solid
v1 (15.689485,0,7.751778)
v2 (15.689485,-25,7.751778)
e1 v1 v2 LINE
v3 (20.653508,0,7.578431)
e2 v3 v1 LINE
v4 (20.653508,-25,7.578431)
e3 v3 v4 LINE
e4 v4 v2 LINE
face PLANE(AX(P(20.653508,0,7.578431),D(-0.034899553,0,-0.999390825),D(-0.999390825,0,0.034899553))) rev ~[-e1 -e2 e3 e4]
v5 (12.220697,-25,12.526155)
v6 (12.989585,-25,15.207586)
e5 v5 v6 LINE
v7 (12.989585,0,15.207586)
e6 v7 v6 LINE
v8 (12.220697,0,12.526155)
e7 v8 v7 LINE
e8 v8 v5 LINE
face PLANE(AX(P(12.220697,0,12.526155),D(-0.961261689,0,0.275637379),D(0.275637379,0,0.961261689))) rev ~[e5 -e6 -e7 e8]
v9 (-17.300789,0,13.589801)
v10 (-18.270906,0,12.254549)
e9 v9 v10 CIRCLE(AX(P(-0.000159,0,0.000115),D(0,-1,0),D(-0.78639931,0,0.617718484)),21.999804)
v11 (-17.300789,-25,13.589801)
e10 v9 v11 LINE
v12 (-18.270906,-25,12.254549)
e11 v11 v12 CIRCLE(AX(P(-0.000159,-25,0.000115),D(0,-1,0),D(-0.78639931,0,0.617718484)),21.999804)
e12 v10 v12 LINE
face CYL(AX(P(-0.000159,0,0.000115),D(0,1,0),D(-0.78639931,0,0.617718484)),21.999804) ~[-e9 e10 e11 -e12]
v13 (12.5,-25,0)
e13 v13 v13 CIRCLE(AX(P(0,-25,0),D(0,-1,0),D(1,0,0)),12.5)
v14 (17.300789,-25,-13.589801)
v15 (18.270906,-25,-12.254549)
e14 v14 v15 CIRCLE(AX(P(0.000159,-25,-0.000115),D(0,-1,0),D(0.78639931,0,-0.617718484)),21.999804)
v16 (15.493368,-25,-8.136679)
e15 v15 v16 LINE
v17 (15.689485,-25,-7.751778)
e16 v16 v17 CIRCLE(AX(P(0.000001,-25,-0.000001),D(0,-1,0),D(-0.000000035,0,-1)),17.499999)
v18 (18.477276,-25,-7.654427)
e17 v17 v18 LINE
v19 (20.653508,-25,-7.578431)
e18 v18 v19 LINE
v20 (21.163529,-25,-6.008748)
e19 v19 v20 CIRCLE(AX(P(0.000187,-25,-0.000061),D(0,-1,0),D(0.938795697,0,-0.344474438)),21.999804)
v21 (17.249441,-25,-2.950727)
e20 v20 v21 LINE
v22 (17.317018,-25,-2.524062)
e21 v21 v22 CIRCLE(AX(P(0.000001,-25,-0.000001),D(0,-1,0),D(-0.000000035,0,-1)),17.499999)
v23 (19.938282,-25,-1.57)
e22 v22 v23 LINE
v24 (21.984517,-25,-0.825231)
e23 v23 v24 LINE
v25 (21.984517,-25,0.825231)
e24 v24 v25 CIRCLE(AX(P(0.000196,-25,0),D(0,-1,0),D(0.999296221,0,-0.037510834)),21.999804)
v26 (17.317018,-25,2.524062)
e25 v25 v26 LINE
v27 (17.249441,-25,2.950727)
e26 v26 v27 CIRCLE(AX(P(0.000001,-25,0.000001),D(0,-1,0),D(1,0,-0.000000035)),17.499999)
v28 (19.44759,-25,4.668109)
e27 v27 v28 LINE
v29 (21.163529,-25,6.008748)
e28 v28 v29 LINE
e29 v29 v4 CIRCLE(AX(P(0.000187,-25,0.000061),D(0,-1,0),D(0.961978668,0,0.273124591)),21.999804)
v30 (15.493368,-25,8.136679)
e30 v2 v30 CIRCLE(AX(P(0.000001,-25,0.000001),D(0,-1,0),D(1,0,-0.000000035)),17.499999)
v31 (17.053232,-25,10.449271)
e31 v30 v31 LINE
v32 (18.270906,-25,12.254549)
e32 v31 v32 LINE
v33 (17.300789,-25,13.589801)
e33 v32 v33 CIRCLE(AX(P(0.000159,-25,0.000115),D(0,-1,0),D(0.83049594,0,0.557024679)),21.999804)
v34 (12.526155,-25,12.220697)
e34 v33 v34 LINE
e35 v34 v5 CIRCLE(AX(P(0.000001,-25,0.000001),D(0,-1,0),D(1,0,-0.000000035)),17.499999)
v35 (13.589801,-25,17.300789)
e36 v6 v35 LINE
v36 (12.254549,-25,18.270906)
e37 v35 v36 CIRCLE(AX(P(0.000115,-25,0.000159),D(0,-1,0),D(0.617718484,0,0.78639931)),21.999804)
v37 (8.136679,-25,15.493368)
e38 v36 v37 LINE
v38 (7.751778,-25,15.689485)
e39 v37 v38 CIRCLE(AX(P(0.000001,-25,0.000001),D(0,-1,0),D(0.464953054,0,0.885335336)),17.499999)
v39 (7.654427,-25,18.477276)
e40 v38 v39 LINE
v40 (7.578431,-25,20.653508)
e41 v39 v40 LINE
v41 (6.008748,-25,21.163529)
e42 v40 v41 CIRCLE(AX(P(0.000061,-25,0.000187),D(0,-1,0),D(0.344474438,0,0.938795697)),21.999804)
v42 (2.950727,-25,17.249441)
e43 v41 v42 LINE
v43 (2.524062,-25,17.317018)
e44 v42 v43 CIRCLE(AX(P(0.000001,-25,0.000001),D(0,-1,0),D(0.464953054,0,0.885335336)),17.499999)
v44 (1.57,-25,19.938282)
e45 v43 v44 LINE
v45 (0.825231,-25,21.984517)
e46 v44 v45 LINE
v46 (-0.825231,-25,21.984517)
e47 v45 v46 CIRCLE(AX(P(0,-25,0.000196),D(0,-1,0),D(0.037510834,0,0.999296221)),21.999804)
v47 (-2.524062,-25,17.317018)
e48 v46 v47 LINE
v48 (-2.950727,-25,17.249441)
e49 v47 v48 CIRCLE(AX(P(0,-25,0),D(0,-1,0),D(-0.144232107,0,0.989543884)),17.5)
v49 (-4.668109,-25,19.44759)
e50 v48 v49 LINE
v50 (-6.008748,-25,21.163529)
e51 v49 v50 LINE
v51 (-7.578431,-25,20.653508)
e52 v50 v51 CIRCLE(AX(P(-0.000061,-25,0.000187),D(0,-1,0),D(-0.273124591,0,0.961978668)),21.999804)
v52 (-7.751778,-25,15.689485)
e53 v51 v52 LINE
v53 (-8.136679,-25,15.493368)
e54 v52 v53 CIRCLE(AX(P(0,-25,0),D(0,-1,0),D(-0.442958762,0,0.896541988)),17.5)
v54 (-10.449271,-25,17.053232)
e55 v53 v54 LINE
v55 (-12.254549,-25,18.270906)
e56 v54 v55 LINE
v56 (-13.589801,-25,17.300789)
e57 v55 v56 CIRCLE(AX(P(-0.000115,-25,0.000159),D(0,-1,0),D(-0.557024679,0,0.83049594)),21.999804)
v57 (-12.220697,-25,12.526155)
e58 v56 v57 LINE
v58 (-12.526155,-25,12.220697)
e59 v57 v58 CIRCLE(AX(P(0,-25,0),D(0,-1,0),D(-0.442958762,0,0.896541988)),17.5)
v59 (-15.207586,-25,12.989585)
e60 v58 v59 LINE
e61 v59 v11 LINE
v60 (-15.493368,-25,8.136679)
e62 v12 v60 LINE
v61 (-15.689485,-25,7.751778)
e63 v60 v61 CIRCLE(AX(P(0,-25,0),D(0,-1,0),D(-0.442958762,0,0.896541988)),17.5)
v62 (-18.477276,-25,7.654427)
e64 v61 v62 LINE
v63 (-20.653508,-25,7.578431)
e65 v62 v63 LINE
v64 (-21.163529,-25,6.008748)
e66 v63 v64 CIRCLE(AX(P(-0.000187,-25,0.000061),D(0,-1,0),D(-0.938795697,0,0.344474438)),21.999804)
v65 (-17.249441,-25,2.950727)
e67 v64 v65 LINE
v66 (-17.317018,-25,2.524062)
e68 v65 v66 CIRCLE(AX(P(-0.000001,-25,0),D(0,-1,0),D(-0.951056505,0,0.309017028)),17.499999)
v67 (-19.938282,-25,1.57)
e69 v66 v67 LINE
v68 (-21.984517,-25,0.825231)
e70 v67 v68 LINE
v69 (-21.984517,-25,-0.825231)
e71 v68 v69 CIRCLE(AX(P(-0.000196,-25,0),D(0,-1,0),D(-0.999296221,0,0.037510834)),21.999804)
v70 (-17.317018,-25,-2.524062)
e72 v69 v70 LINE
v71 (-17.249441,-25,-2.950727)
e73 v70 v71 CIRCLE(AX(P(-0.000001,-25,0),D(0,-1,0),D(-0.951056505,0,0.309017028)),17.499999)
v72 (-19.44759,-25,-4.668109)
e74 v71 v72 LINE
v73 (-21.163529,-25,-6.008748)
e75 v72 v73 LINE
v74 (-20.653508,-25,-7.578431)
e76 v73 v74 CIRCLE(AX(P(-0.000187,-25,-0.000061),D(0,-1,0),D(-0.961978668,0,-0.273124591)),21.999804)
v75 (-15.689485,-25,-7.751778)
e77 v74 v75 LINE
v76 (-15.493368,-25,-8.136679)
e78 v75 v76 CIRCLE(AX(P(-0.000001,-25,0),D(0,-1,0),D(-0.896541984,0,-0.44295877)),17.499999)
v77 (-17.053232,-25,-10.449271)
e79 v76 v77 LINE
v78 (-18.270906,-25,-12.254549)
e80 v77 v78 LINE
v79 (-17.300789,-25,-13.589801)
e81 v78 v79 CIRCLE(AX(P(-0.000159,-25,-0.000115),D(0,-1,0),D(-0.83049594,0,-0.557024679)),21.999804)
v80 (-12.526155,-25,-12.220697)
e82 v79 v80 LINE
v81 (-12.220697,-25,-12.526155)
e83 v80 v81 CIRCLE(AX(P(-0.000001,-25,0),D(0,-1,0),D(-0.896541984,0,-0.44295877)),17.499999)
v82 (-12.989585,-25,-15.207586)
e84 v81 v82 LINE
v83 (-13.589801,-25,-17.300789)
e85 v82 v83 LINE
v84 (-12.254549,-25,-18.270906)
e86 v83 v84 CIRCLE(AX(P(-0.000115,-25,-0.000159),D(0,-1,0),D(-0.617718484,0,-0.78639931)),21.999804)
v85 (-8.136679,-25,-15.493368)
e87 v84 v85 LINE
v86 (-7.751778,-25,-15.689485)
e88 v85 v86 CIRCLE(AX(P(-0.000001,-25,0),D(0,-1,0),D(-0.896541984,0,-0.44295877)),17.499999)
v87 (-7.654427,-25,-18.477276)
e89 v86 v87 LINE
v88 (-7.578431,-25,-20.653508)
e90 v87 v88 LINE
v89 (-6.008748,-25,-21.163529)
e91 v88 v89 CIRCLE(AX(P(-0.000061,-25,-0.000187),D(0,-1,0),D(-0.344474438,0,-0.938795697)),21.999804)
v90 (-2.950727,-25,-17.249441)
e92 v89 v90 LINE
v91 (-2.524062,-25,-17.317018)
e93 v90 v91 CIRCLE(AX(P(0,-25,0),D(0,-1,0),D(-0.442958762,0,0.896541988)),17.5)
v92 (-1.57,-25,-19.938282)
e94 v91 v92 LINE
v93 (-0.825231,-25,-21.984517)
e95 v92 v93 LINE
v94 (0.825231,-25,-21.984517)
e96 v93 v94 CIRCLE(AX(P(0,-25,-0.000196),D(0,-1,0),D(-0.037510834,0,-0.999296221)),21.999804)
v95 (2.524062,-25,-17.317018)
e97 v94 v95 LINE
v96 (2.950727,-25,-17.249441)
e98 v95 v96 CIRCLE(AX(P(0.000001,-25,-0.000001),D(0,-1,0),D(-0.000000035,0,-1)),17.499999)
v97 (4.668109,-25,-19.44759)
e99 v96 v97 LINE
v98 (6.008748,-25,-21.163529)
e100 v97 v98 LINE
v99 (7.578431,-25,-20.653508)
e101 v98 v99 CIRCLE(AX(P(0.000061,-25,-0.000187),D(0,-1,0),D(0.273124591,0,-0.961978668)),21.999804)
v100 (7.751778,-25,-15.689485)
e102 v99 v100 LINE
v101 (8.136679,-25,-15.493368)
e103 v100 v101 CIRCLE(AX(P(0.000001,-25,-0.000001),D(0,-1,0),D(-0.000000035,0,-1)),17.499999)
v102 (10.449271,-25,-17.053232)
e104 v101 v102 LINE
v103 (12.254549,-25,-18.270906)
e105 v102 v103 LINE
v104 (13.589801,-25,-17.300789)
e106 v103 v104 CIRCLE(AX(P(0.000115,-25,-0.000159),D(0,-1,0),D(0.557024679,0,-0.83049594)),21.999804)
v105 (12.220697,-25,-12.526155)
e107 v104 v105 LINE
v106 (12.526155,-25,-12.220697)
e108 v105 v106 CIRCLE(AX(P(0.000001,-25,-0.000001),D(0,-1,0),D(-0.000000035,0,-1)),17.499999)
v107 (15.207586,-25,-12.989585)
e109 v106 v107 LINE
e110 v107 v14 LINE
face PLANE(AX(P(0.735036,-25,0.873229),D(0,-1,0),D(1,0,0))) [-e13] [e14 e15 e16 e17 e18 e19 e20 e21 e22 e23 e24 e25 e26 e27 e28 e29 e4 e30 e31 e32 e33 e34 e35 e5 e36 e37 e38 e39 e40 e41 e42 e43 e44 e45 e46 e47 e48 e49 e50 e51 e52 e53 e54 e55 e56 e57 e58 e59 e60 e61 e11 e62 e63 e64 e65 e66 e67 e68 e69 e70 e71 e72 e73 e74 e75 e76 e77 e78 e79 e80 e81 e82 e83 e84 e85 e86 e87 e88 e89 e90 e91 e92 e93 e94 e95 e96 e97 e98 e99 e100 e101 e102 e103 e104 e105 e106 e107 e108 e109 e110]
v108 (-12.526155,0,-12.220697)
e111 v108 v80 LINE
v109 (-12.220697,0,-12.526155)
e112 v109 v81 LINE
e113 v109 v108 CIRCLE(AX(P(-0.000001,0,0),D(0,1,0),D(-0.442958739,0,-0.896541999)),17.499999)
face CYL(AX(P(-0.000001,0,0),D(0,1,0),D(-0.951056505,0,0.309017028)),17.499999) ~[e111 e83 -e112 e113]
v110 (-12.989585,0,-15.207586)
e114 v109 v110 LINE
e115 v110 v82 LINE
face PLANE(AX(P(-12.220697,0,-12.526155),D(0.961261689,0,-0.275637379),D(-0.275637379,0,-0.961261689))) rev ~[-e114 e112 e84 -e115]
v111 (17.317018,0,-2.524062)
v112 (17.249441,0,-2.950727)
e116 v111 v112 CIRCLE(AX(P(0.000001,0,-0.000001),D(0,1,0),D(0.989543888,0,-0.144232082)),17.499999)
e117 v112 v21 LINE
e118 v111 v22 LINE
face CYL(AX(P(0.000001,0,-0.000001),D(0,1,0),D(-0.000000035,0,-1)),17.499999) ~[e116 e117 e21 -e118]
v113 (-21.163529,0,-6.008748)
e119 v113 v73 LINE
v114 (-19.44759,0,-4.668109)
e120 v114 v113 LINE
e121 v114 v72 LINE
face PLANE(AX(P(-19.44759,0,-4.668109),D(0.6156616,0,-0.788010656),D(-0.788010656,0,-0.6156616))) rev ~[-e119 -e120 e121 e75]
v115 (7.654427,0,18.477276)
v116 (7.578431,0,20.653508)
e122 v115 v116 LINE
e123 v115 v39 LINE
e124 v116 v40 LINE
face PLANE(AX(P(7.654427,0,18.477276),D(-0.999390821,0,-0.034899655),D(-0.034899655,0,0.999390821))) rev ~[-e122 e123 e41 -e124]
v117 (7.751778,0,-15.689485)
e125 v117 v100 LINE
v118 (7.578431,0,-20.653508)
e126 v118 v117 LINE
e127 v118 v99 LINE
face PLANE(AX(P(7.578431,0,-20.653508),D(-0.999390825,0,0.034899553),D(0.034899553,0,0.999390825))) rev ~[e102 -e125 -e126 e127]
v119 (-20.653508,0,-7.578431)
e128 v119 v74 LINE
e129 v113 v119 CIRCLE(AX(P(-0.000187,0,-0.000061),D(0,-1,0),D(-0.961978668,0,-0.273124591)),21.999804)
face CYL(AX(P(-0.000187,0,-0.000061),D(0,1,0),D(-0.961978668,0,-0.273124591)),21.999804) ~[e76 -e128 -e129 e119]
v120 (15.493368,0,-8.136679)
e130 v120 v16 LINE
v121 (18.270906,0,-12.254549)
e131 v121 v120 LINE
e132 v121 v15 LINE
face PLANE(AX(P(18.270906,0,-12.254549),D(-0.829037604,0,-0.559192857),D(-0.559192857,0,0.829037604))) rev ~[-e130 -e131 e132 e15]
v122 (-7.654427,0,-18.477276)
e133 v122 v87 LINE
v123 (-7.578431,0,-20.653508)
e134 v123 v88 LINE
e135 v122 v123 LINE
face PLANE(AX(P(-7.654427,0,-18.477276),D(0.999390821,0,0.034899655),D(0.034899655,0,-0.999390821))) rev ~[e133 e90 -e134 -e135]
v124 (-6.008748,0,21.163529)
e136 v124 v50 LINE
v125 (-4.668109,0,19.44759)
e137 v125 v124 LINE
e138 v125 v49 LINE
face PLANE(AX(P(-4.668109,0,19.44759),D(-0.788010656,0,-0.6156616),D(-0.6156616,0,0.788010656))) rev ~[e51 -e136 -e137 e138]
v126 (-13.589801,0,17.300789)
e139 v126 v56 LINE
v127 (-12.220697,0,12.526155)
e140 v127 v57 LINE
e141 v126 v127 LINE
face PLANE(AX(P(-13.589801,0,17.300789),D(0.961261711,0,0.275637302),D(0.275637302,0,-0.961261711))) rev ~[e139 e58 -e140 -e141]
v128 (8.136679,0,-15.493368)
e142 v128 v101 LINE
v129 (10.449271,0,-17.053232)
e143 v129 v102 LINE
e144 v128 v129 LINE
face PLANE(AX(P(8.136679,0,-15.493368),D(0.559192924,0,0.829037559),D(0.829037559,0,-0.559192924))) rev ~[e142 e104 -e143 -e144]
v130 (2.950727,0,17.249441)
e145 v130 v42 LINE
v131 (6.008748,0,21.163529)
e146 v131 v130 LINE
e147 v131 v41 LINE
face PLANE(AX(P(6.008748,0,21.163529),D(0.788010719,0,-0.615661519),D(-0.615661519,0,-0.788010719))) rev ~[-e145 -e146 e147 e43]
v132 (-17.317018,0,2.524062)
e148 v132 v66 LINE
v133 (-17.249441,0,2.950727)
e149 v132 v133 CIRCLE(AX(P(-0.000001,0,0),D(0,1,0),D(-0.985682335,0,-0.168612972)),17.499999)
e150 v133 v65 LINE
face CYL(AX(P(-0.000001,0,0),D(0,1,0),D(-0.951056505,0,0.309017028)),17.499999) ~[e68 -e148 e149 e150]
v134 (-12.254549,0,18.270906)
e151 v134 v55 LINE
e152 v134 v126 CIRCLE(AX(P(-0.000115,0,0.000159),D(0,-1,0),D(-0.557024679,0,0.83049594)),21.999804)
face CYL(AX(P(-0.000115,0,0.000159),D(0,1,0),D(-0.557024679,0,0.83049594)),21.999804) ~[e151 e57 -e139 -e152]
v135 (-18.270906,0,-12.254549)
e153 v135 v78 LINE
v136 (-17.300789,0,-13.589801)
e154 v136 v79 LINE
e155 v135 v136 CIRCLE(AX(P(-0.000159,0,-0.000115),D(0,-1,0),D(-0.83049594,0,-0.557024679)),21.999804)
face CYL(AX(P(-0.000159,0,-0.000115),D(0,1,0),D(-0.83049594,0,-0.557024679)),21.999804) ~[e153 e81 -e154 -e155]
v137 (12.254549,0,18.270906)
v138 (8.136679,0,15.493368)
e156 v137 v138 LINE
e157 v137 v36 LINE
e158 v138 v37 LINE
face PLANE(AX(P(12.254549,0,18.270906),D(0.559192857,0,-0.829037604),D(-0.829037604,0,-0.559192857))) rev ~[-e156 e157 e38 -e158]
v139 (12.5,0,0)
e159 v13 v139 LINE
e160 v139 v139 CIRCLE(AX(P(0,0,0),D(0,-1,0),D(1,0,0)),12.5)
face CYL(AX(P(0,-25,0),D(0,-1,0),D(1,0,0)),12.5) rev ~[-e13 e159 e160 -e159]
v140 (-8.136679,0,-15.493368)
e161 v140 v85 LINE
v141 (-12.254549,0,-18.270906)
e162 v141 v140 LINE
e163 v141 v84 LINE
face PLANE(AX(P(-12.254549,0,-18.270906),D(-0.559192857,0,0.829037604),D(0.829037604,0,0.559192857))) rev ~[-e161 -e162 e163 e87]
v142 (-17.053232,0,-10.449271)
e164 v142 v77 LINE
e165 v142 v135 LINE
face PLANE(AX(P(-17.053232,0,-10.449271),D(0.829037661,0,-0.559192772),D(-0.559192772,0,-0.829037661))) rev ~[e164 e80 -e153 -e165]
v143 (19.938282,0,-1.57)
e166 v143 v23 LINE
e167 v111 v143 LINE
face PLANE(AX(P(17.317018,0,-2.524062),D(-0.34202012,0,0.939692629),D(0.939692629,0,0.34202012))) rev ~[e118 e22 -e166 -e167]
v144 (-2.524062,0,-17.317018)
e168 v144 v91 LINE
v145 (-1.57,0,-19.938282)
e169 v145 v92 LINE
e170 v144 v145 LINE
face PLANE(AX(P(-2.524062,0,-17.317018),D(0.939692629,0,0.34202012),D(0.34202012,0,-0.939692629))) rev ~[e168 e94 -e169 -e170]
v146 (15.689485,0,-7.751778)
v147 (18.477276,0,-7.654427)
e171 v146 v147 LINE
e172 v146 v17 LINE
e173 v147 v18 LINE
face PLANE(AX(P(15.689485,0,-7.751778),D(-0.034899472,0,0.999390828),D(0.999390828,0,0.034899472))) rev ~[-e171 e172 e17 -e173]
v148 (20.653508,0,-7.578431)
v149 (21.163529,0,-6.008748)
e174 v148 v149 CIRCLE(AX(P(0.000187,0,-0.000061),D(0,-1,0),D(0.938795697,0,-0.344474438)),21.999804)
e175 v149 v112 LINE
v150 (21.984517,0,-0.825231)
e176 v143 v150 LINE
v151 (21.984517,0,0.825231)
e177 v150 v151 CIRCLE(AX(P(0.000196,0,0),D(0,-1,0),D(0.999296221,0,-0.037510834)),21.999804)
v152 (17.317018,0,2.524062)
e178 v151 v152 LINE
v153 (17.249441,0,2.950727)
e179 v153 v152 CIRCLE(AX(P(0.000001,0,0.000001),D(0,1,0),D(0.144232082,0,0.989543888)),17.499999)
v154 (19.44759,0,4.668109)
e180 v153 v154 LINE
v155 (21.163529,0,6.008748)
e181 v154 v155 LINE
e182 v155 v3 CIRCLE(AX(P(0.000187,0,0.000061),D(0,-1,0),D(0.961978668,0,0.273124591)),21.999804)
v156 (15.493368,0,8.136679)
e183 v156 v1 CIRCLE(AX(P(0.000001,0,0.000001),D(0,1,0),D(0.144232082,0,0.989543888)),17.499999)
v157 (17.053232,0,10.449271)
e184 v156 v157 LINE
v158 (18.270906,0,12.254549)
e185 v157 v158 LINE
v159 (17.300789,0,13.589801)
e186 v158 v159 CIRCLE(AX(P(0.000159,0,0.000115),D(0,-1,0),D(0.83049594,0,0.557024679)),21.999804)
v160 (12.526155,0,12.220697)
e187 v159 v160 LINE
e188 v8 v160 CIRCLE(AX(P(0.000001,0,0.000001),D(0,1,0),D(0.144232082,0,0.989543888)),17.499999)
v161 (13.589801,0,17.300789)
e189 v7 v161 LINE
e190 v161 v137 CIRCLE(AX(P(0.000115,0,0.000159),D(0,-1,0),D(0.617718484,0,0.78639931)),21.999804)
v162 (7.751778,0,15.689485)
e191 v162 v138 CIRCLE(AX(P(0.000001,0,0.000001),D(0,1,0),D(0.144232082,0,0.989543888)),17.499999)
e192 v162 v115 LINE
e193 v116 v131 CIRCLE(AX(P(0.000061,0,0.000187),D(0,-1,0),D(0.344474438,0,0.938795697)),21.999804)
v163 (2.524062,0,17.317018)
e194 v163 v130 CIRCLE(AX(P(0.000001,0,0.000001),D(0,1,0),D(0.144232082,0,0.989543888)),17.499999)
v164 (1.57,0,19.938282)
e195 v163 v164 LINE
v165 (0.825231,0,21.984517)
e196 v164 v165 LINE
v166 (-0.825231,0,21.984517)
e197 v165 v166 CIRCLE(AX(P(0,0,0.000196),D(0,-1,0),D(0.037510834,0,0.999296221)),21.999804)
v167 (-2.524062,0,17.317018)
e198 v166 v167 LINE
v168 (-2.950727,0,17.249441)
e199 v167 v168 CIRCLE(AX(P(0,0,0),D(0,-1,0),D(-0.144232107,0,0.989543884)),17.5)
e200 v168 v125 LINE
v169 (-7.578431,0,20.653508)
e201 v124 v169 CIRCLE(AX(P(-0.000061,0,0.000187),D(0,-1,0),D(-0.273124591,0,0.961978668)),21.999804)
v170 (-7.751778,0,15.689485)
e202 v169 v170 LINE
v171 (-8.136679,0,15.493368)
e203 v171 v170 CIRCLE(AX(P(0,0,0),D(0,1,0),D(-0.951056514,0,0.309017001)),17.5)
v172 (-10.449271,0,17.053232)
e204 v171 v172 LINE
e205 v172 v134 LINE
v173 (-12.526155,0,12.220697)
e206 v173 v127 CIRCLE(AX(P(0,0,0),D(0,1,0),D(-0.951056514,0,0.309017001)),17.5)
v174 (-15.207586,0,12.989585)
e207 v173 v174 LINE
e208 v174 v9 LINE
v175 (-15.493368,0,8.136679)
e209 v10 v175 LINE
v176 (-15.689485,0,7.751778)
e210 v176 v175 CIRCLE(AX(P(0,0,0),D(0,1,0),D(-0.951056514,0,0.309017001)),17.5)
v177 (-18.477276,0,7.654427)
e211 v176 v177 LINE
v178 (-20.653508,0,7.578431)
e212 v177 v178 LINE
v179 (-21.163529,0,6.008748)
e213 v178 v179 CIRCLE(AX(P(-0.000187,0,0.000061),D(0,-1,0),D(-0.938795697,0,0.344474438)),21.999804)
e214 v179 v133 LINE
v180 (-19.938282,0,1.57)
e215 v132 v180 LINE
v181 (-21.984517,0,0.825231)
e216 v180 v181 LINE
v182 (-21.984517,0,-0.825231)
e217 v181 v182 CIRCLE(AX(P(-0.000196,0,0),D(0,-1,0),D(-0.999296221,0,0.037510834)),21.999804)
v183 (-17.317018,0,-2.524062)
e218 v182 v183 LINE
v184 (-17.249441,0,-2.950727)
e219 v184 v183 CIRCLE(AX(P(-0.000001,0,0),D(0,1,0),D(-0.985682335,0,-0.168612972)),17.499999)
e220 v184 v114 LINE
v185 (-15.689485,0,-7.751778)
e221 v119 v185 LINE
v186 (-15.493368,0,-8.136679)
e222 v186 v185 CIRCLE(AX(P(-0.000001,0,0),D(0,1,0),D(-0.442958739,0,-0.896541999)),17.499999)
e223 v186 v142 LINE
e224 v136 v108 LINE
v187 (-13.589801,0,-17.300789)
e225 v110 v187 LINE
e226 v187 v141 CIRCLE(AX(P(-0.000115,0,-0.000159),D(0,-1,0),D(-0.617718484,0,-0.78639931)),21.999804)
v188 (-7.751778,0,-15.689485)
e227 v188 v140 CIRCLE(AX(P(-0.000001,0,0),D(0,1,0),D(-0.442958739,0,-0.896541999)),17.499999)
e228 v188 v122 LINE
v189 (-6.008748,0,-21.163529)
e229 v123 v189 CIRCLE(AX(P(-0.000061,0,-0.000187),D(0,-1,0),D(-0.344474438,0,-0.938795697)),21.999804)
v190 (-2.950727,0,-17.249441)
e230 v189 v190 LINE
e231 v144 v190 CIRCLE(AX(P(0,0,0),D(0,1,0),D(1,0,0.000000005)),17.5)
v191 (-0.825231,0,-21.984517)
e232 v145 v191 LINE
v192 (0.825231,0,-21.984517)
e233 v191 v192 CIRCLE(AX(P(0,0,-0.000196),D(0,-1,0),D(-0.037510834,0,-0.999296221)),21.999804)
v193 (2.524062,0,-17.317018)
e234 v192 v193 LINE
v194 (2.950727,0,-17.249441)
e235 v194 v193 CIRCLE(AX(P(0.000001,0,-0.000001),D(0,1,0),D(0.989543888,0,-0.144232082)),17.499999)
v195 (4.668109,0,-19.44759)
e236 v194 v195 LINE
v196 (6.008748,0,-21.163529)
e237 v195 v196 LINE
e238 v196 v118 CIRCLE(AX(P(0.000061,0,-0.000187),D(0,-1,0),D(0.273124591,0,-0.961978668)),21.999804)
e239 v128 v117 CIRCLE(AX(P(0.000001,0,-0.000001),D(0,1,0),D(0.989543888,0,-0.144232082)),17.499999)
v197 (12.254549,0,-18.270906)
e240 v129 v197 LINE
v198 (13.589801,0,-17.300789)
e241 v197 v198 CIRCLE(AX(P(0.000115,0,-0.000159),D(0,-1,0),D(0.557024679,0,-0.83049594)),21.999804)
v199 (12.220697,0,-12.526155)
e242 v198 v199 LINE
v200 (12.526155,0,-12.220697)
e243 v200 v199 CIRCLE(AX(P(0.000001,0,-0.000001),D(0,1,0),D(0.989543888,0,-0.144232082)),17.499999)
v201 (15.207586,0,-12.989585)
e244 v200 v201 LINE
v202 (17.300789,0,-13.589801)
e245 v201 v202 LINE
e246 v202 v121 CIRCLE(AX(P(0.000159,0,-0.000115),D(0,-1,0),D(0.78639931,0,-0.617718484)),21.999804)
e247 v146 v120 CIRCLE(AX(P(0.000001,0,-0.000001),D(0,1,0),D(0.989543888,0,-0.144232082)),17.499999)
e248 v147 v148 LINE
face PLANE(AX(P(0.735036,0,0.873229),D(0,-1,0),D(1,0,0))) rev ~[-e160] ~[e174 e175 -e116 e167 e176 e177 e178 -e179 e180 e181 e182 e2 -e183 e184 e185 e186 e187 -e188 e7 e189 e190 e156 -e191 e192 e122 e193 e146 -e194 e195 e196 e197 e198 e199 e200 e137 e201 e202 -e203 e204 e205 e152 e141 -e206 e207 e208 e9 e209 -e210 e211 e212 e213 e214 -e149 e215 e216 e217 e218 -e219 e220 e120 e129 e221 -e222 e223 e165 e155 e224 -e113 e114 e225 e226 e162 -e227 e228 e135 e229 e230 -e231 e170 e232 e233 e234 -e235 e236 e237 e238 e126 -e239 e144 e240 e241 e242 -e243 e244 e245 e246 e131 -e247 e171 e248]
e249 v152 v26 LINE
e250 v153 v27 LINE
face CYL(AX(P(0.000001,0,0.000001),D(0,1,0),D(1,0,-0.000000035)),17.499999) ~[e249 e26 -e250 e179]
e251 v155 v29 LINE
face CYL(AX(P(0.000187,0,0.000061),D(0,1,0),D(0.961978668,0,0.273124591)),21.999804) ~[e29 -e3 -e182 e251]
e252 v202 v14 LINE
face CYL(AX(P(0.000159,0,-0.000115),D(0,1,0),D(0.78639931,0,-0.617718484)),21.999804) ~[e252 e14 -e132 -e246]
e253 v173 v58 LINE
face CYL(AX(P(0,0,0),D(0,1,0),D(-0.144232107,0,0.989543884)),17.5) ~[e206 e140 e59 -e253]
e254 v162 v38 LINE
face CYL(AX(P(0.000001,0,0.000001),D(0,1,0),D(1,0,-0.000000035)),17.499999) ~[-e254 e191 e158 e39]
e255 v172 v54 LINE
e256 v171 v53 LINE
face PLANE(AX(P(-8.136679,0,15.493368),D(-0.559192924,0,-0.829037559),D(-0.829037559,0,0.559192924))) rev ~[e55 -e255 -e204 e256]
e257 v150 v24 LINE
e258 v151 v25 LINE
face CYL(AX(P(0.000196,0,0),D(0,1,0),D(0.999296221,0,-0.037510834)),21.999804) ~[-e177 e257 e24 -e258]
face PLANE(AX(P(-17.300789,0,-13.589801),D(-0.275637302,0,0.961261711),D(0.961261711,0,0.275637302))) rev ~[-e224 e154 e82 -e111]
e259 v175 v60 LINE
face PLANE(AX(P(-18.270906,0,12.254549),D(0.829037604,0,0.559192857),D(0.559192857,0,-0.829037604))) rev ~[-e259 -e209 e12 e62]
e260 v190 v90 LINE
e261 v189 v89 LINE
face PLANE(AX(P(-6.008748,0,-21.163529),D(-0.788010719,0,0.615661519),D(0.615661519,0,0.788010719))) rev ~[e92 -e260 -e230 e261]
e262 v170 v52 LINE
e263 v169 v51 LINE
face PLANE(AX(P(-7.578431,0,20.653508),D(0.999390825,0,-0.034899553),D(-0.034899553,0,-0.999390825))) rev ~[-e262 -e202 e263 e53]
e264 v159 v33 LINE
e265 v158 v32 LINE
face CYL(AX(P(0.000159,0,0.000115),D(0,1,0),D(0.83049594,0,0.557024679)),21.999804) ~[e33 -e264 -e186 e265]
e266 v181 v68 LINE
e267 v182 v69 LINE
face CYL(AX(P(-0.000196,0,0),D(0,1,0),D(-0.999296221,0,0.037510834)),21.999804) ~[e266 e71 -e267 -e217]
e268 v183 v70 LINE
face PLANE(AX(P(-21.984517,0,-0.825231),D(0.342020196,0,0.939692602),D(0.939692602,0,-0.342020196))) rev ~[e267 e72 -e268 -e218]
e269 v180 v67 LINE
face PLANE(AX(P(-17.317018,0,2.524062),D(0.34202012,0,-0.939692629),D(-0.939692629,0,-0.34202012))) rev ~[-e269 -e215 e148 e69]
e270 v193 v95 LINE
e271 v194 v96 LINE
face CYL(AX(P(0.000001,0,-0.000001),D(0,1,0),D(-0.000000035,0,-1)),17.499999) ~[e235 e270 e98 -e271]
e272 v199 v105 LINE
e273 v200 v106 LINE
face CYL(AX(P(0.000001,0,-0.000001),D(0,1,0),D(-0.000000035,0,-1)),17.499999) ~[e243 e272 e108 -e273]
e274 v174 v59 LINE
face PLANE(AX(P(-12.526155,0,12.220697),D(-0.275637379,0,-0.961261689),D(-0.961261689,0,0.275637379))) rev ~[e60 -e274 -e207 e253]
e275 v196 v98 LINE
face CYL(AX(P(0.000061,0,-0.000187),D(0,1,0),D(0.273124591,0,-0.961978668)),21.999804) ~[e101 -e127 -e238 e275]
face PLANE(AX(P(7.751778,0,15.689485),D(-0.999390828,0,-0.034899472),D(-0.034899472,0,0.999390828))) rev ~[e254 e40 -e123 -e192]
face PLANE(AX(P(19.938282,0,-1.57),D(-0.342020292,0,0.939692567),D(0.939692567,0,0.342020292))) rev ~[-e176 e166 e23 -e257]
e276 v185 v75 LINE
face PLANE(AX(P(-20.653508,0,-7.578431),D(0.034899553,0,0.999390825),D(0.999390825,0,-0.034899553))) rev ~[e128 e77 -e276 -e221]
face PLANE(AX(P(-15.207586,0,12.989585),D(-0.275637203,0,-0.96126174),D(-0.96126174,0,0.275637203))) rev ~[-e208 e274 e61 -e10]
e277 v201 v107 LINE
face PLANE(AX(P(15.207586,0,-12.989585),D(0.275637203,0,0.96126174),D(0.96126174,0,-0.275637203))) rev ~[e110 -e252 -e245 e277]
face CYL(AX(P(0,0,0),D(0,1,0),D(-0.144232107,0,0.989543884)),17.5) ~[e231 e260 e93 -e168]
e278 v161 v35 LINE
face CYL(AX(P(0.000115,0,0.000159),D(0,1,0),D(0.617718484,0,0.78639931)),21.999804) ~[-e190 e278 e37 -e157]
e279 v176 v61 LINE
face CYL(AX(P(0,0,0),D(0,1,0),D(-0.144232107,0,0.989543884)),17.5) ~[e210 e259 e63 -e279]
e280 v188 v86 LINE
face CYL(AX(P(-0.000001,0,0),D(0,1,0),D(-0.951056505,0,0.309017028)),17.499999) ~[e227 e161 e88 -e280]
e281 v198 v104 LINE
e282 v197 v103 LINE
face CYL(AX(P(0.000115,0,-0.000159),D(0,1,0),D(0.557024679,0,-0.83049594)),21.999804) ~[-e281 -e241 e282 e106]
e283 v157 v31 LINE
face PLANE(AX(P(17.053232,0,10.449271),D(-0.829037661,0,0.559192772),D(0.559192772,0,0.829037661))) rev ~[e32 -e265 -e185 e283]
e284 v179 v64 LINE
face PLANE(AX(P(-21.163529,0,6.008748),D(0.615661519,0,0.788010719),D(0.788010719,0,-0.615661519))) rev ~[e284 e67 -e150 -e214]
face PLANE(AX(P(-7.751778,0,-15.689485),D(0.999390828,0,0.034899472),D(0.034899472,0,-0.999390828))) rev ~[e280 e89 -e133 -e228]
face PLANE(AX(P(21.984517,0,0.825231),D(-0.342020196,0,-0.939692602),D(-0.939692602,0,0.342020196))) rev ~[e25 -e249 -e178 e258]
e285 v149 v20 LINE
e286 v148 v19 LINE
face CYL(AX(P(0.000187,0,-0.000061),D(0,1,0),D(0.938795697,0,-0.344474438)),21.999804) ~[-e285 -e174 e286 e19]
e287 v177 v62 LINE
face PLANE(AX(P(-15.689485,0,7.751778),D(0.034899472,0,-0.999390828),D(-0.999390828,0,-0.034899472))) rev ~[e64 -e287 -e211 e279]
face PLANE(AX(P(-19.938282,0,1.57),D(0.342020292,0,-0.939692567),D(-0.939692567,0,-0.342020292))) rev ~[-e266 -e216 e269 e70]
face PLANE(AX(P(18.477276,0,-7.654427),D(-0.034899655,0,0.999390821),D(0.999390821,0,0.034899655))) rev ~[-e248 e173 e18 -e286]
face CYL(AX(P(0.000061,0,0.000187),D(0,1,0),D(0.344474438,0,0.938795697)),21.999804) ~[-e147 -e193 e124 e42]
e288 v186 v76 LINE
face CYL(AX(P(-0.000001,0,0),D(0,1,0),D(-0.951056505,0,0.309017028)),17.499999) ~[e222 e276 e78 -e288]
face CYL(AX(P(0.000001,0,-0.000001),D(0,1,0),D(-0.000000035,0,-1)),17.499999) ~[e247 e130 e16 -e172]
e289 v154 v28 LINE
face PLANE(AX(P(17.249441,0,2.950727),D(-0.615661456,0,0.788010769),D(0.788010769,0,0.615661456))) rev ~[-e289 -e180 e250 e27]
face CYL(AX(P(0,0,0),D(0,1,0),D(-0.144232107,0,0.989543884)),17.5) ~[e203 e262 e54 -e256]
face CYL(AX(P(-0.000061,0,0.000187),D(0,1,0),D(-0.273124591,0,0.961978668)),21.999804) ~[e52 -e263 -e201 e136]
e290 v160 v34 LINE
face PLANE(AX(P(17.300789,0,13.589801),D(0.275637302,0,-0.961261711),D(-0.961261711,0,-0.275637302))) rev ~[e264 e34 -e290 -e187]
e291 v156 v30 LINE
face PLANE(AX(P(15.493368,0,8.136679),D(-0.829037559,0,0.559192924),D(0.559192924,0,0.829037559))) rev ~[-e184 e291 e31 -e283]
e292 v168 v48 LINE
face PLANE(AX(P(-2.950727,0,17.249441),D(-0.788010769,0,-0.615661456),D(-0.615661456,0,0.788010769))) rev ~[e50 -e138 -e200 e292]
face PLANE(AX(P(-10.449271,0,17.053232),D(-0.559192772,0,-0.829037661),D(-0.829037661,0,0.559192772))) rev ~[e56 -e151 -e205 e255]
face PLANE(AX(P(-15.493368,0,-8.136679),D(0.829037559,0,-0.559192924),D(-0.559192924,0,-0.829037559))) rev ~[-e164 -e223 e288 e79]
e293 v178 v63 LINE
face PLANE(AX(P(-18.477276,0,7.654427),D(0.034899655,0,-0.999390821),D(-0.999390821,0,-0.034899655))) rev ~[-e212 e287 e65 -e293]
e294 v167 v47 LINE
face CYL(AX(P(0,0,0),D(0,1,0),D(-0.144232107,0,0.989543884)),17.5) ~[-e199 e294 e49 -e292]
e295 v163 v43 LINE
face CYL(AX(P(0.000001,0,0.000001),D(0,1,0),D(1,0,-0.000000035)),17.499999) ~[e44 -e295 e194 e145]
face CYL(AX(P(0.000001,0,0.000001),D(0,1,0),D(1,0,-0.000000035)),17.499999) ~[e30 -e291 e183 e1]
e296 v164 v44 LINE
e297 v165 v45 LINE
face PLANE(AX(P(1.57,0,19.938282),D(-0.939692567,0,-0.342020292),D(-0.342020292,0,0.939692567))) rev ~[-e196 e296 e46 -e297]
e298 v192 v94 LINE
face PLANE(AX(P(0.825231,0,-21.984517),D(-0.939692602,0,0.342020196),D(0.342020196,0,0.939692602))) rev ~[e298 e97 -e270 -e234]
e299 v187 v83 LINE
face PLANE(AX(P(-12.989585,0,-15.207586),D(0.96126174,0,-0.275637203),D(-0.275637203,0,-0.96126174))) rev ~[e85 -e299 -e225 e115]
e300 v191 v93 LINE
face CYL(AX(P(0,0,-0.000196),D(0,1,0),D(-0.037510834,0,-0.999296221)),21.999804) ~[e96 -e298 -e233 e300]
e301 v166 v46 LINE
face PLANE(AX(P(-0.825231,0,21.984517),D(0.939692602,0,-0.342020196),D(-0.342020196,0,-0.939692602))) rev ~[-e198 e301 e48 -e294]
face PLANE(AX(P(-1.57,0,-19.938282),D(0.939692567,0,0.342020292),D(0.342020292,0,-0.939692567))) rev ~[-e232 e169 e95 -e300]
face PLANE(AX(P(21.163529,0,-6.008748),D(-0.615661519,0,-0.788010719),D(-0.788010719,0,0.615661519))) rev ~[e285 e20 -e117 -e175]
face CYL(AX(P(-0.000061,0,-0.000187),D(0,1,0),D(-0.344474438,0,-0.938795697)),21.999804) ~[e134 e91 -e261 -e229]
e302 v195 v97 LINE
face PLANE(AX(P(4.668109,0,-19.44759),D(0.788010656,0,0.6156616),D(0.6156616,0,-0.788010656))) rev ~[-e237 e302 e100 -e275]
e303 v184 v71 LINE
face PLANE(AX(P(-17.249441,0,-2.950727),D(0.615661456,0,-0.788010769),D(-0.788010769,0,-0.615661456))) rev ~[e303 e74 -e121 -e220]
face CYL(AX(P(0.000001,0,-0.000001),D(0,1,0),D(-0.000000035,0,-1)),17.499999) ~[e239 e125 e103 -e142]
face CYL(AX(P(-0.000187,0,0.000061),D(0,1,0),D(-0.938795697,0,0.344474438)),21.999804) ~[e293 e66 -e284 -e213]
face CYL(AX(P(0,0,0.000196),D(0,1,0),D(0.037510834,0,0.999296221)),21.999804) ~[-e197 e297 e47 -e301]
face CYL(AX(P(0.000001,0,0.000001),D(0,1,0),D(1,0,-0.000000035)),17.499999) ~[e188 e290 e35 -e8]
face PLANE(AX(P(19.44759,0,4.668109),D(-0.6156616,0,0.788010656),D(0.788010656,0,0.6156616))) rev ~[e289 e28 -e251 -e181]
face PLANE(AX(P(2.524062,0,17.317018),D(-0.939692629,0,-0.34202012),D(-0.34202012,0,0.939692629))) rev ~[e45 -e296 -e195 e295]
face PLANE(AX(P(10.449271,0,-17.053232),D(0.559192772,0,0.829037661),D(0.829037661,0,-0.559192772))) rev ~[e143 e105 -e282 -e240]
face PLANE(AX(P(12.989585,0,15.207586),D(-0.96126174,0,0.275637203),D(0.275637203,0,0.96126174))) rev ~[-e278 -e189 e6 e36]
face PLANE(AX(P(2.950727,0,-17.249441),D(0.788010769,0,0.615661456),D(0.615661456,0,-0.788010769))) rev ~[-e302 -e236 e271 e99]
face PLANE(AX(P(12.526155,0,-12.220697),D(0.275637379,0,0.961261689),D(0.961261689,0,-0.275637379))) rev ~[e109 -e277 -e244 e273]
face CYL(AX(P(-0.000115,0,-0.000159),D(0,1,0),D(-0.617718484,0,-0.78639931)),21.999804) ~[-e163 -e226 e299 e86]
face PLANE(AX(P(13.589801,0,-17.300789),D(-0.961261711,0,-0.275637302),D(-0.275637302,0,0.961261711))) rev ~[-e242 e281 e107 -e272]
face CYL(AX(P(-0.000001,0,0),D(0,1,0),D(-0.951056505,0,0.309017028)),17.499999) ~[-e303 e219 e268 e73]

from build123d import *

# Parameters (mm, degrees)
F1_DEPTH = 25
F3_COUNT = 20
F3_ANGLE = 342
F5_R     = 12.5
F6_DEPTH = 53.5


with BuildPart() as f1:
    # F0 (on Front) → F1 (new body)
    with BuildSketch(Plane.XZ):
        with BuildLine():
            ThreePointArc((-2.524062, 17.317018), (-11.447247, -13.236712), (17.5, 0))
            ThreePointArc((17.5, 0), (13.236712, 11.447247), (2.524062, 17.317018))
            ThreePointArc((2.524062, 17.317018), (0, 17.5), (-2.524062, 17.317018))
        make_face()
        with BuildLine():
            ThreePointArc((-2.524062, 17.317018), (0, 17.5), (2.524062, 17.317018))
            Line((2.524062, 17.317018), (1.57, 19.938282))
            Line((1.57, 19.938282), (0.825231, 21.984517))
            ThreePointArc((0.825231, 21.984517), (0, 22), (-0.825231, 21.984517))
            Line((-0.825231, 21.984517), (-2.524062, 17.317018))
        make_face()
    extrude(amount=F1_DEPTH)


with BuildPart() as f3_1:
    # F3: instance of F1
    add(f1.part.rotate(Axis((0, -51.437987, 0), (0, 1, 0)), 1 * F3_ANGLE / (F3_COUNT - 1)))


with BuildPart() as f3_2:
    # F3: instance of F1
    add(f1.part.rotate(Axis((0, -51.437987, 0), (0, 1, 0)), 2 * F3_ANGLE / (F3_COUNT - 1)))


with BuildPart() as f3_3:
    # F3: instance of F1
    add(f1.part.rotate(Axis((0, -51.437987, 0), (0, 1, 0)), 3 * F3_ANGLE / (F3_COUNT - 1)))


with BuildPart() as f3_4:
    # F3: instance of F1
    add(f1.part.rotate(Axis((0, -51.437987, 0), (0, 1, 0)), 4 * F3_ANGLE / (F3_COUNT - 1)))


with BuildPart() as f3_5:
    # F3: instance of F1
    add(f1.part.rotate(Axis((0, -51.437987, 0), (0, 1, 0)), 5 * F3_ANGLE / (F3_COUNT - 1)))


with BuildPart() as f3_6:
    # F3: instance of F1
    add(f1.part.rotate(Axis((0, -51.437987, 0), (0, 1, 0)), 6 * F3_ANGLE / (F3_COUNT - 1)))


with BuildPart() as f3_7:
    # F3: instance of F1
    add(f1.part.rotate(Axis((0, -51.437987, 0), (0, 1, 0)), 7 * F3_ANGLE / (F3_COUNT - 1)))


with BuildPart() as f3_8:
    # F3: instance of F1
    add(f1.part.rotate(Axis((0, -51.437987, 0), (0, 1, 0)), 8 * F3_ANGLE / (F3_COUNT - 1)))


with BuildPart() as f3_9:
    # F3: instance of F1
    add(f1.part.rotate(Axis((0, -51.437987, 0), (0, 1, 0)), 9 * F3_ANGLE / (F3_COUNT - 1)))


with BuildPart() as f3_10:
    # F3: instance of F1
    add(f1.part.rotate(Axis((0, -51.437987, 0), (0, 1, 0)), 10 * F3_ANGLE / (F3_COUNT - 1)))


with BuildPart() as f3_11:
    # F3: instance of F1
    add(f1.part.rotate(Axis((0, -51.437987, 0), (0, 1, 0)), 11 * F3_ANGLE / (F3_COUNT - 1)))


with BuildPart() as f3_12:
    # F3: instance of F1
    add(f1.part.rotate(Axis((0, -51.437987, 0), (0, 1, 0)), 12 * F3_ANGLE / (F3_COUNT - 1)))


with BuildPart() as f3_13:
    # F3: instance of F1
    add(f1.part.rotate(Axis((0, -51.437987, 0), (0, 1, 0)), 13 * F3_ANGLE / (F3_COUNT - 1)))


with BuildPart() as f3_14:
    # F3: instance of F1
    add(f1.part.rotate(Axis((0, -51.437987, 0), (0, 1, 0)), 14 * F3_ANGLE / (F3_COUNT - 1)))


with BuildPart() as f3_15:
    # F3: instance of F1
    add(f1.part.rotate(Axis((0, -51.437987, 0), (0, 1, 0)), 15 * F3_ANGLE / (F3_COUNT - 1)))


with BuildPart() as f3_16:
    # F3: instance of F1
    add(f1.part.rotate(Axis((0, -51.437987, 0), (0, 1, 0)), 16 * F3_ANGLE / (F3_COUNT - 1)))


with BuildPart() as f3_17:
    # F3: instance of F1
    add(f1.part.rotate(Axis((0, -51.437987, 0), (0, 1, 0)), 17 * F3_ANGLE / (F3_COUNT - 1)))


with BuildPart() as f3_18:
    # F3: instance of F1
    add(f1.part.rotate(Axis((0, -51.437987, 0), (0, 1, 0)), 18 * F3_ANGLE / (F3_COUNT - 1)))


with BuildPart() as f3_19:
    # F3: instance of F1
    add(f1.part.rotate(Axis((0, -51.437987, 0), (0, 1, 0)), 19 * F3_ANGLE / (F3_COUNT - 1)))


with BuildPart() as f1_1:
    add(f1.part)

    # F4: union F3_19, F3_3, F3_11, F3_14, F3_5, F3_4, F3_8, F3_6, F3_7, F3_9, F3_10, F3_12, F3_15, F3_18, F3_13, F3_2, F3_16, F3_17, F3_1
    add(f3_19.part)
    add(f3_3.part)
    add(f3_11.part)
    add(f3_14.part)
    add(f3_5.part)
    add(f3_4.part)
    add(f3_8.part)
    add(f3_6.part)
    add(f3_7.part)
    add(f3_9.part)
    add(f3_10.part)
    add(f3_12.part)
    add(f3_15.part)
    add(f3_18.part)
    add(f3_13.part)
    add(f3_2.part)
    add(f3_16.part)
    add(f3_17.part)
    add(f3_1.part)

    # F5 (on face) → F6 (cut)
    with BuildSketch(Plane.XZ.offset(25)):
        Circle(F5_R)
    extrude(amount=-F6_DEPTH, mode=Mode.SUBTRACT)


solid = f1_1.part
